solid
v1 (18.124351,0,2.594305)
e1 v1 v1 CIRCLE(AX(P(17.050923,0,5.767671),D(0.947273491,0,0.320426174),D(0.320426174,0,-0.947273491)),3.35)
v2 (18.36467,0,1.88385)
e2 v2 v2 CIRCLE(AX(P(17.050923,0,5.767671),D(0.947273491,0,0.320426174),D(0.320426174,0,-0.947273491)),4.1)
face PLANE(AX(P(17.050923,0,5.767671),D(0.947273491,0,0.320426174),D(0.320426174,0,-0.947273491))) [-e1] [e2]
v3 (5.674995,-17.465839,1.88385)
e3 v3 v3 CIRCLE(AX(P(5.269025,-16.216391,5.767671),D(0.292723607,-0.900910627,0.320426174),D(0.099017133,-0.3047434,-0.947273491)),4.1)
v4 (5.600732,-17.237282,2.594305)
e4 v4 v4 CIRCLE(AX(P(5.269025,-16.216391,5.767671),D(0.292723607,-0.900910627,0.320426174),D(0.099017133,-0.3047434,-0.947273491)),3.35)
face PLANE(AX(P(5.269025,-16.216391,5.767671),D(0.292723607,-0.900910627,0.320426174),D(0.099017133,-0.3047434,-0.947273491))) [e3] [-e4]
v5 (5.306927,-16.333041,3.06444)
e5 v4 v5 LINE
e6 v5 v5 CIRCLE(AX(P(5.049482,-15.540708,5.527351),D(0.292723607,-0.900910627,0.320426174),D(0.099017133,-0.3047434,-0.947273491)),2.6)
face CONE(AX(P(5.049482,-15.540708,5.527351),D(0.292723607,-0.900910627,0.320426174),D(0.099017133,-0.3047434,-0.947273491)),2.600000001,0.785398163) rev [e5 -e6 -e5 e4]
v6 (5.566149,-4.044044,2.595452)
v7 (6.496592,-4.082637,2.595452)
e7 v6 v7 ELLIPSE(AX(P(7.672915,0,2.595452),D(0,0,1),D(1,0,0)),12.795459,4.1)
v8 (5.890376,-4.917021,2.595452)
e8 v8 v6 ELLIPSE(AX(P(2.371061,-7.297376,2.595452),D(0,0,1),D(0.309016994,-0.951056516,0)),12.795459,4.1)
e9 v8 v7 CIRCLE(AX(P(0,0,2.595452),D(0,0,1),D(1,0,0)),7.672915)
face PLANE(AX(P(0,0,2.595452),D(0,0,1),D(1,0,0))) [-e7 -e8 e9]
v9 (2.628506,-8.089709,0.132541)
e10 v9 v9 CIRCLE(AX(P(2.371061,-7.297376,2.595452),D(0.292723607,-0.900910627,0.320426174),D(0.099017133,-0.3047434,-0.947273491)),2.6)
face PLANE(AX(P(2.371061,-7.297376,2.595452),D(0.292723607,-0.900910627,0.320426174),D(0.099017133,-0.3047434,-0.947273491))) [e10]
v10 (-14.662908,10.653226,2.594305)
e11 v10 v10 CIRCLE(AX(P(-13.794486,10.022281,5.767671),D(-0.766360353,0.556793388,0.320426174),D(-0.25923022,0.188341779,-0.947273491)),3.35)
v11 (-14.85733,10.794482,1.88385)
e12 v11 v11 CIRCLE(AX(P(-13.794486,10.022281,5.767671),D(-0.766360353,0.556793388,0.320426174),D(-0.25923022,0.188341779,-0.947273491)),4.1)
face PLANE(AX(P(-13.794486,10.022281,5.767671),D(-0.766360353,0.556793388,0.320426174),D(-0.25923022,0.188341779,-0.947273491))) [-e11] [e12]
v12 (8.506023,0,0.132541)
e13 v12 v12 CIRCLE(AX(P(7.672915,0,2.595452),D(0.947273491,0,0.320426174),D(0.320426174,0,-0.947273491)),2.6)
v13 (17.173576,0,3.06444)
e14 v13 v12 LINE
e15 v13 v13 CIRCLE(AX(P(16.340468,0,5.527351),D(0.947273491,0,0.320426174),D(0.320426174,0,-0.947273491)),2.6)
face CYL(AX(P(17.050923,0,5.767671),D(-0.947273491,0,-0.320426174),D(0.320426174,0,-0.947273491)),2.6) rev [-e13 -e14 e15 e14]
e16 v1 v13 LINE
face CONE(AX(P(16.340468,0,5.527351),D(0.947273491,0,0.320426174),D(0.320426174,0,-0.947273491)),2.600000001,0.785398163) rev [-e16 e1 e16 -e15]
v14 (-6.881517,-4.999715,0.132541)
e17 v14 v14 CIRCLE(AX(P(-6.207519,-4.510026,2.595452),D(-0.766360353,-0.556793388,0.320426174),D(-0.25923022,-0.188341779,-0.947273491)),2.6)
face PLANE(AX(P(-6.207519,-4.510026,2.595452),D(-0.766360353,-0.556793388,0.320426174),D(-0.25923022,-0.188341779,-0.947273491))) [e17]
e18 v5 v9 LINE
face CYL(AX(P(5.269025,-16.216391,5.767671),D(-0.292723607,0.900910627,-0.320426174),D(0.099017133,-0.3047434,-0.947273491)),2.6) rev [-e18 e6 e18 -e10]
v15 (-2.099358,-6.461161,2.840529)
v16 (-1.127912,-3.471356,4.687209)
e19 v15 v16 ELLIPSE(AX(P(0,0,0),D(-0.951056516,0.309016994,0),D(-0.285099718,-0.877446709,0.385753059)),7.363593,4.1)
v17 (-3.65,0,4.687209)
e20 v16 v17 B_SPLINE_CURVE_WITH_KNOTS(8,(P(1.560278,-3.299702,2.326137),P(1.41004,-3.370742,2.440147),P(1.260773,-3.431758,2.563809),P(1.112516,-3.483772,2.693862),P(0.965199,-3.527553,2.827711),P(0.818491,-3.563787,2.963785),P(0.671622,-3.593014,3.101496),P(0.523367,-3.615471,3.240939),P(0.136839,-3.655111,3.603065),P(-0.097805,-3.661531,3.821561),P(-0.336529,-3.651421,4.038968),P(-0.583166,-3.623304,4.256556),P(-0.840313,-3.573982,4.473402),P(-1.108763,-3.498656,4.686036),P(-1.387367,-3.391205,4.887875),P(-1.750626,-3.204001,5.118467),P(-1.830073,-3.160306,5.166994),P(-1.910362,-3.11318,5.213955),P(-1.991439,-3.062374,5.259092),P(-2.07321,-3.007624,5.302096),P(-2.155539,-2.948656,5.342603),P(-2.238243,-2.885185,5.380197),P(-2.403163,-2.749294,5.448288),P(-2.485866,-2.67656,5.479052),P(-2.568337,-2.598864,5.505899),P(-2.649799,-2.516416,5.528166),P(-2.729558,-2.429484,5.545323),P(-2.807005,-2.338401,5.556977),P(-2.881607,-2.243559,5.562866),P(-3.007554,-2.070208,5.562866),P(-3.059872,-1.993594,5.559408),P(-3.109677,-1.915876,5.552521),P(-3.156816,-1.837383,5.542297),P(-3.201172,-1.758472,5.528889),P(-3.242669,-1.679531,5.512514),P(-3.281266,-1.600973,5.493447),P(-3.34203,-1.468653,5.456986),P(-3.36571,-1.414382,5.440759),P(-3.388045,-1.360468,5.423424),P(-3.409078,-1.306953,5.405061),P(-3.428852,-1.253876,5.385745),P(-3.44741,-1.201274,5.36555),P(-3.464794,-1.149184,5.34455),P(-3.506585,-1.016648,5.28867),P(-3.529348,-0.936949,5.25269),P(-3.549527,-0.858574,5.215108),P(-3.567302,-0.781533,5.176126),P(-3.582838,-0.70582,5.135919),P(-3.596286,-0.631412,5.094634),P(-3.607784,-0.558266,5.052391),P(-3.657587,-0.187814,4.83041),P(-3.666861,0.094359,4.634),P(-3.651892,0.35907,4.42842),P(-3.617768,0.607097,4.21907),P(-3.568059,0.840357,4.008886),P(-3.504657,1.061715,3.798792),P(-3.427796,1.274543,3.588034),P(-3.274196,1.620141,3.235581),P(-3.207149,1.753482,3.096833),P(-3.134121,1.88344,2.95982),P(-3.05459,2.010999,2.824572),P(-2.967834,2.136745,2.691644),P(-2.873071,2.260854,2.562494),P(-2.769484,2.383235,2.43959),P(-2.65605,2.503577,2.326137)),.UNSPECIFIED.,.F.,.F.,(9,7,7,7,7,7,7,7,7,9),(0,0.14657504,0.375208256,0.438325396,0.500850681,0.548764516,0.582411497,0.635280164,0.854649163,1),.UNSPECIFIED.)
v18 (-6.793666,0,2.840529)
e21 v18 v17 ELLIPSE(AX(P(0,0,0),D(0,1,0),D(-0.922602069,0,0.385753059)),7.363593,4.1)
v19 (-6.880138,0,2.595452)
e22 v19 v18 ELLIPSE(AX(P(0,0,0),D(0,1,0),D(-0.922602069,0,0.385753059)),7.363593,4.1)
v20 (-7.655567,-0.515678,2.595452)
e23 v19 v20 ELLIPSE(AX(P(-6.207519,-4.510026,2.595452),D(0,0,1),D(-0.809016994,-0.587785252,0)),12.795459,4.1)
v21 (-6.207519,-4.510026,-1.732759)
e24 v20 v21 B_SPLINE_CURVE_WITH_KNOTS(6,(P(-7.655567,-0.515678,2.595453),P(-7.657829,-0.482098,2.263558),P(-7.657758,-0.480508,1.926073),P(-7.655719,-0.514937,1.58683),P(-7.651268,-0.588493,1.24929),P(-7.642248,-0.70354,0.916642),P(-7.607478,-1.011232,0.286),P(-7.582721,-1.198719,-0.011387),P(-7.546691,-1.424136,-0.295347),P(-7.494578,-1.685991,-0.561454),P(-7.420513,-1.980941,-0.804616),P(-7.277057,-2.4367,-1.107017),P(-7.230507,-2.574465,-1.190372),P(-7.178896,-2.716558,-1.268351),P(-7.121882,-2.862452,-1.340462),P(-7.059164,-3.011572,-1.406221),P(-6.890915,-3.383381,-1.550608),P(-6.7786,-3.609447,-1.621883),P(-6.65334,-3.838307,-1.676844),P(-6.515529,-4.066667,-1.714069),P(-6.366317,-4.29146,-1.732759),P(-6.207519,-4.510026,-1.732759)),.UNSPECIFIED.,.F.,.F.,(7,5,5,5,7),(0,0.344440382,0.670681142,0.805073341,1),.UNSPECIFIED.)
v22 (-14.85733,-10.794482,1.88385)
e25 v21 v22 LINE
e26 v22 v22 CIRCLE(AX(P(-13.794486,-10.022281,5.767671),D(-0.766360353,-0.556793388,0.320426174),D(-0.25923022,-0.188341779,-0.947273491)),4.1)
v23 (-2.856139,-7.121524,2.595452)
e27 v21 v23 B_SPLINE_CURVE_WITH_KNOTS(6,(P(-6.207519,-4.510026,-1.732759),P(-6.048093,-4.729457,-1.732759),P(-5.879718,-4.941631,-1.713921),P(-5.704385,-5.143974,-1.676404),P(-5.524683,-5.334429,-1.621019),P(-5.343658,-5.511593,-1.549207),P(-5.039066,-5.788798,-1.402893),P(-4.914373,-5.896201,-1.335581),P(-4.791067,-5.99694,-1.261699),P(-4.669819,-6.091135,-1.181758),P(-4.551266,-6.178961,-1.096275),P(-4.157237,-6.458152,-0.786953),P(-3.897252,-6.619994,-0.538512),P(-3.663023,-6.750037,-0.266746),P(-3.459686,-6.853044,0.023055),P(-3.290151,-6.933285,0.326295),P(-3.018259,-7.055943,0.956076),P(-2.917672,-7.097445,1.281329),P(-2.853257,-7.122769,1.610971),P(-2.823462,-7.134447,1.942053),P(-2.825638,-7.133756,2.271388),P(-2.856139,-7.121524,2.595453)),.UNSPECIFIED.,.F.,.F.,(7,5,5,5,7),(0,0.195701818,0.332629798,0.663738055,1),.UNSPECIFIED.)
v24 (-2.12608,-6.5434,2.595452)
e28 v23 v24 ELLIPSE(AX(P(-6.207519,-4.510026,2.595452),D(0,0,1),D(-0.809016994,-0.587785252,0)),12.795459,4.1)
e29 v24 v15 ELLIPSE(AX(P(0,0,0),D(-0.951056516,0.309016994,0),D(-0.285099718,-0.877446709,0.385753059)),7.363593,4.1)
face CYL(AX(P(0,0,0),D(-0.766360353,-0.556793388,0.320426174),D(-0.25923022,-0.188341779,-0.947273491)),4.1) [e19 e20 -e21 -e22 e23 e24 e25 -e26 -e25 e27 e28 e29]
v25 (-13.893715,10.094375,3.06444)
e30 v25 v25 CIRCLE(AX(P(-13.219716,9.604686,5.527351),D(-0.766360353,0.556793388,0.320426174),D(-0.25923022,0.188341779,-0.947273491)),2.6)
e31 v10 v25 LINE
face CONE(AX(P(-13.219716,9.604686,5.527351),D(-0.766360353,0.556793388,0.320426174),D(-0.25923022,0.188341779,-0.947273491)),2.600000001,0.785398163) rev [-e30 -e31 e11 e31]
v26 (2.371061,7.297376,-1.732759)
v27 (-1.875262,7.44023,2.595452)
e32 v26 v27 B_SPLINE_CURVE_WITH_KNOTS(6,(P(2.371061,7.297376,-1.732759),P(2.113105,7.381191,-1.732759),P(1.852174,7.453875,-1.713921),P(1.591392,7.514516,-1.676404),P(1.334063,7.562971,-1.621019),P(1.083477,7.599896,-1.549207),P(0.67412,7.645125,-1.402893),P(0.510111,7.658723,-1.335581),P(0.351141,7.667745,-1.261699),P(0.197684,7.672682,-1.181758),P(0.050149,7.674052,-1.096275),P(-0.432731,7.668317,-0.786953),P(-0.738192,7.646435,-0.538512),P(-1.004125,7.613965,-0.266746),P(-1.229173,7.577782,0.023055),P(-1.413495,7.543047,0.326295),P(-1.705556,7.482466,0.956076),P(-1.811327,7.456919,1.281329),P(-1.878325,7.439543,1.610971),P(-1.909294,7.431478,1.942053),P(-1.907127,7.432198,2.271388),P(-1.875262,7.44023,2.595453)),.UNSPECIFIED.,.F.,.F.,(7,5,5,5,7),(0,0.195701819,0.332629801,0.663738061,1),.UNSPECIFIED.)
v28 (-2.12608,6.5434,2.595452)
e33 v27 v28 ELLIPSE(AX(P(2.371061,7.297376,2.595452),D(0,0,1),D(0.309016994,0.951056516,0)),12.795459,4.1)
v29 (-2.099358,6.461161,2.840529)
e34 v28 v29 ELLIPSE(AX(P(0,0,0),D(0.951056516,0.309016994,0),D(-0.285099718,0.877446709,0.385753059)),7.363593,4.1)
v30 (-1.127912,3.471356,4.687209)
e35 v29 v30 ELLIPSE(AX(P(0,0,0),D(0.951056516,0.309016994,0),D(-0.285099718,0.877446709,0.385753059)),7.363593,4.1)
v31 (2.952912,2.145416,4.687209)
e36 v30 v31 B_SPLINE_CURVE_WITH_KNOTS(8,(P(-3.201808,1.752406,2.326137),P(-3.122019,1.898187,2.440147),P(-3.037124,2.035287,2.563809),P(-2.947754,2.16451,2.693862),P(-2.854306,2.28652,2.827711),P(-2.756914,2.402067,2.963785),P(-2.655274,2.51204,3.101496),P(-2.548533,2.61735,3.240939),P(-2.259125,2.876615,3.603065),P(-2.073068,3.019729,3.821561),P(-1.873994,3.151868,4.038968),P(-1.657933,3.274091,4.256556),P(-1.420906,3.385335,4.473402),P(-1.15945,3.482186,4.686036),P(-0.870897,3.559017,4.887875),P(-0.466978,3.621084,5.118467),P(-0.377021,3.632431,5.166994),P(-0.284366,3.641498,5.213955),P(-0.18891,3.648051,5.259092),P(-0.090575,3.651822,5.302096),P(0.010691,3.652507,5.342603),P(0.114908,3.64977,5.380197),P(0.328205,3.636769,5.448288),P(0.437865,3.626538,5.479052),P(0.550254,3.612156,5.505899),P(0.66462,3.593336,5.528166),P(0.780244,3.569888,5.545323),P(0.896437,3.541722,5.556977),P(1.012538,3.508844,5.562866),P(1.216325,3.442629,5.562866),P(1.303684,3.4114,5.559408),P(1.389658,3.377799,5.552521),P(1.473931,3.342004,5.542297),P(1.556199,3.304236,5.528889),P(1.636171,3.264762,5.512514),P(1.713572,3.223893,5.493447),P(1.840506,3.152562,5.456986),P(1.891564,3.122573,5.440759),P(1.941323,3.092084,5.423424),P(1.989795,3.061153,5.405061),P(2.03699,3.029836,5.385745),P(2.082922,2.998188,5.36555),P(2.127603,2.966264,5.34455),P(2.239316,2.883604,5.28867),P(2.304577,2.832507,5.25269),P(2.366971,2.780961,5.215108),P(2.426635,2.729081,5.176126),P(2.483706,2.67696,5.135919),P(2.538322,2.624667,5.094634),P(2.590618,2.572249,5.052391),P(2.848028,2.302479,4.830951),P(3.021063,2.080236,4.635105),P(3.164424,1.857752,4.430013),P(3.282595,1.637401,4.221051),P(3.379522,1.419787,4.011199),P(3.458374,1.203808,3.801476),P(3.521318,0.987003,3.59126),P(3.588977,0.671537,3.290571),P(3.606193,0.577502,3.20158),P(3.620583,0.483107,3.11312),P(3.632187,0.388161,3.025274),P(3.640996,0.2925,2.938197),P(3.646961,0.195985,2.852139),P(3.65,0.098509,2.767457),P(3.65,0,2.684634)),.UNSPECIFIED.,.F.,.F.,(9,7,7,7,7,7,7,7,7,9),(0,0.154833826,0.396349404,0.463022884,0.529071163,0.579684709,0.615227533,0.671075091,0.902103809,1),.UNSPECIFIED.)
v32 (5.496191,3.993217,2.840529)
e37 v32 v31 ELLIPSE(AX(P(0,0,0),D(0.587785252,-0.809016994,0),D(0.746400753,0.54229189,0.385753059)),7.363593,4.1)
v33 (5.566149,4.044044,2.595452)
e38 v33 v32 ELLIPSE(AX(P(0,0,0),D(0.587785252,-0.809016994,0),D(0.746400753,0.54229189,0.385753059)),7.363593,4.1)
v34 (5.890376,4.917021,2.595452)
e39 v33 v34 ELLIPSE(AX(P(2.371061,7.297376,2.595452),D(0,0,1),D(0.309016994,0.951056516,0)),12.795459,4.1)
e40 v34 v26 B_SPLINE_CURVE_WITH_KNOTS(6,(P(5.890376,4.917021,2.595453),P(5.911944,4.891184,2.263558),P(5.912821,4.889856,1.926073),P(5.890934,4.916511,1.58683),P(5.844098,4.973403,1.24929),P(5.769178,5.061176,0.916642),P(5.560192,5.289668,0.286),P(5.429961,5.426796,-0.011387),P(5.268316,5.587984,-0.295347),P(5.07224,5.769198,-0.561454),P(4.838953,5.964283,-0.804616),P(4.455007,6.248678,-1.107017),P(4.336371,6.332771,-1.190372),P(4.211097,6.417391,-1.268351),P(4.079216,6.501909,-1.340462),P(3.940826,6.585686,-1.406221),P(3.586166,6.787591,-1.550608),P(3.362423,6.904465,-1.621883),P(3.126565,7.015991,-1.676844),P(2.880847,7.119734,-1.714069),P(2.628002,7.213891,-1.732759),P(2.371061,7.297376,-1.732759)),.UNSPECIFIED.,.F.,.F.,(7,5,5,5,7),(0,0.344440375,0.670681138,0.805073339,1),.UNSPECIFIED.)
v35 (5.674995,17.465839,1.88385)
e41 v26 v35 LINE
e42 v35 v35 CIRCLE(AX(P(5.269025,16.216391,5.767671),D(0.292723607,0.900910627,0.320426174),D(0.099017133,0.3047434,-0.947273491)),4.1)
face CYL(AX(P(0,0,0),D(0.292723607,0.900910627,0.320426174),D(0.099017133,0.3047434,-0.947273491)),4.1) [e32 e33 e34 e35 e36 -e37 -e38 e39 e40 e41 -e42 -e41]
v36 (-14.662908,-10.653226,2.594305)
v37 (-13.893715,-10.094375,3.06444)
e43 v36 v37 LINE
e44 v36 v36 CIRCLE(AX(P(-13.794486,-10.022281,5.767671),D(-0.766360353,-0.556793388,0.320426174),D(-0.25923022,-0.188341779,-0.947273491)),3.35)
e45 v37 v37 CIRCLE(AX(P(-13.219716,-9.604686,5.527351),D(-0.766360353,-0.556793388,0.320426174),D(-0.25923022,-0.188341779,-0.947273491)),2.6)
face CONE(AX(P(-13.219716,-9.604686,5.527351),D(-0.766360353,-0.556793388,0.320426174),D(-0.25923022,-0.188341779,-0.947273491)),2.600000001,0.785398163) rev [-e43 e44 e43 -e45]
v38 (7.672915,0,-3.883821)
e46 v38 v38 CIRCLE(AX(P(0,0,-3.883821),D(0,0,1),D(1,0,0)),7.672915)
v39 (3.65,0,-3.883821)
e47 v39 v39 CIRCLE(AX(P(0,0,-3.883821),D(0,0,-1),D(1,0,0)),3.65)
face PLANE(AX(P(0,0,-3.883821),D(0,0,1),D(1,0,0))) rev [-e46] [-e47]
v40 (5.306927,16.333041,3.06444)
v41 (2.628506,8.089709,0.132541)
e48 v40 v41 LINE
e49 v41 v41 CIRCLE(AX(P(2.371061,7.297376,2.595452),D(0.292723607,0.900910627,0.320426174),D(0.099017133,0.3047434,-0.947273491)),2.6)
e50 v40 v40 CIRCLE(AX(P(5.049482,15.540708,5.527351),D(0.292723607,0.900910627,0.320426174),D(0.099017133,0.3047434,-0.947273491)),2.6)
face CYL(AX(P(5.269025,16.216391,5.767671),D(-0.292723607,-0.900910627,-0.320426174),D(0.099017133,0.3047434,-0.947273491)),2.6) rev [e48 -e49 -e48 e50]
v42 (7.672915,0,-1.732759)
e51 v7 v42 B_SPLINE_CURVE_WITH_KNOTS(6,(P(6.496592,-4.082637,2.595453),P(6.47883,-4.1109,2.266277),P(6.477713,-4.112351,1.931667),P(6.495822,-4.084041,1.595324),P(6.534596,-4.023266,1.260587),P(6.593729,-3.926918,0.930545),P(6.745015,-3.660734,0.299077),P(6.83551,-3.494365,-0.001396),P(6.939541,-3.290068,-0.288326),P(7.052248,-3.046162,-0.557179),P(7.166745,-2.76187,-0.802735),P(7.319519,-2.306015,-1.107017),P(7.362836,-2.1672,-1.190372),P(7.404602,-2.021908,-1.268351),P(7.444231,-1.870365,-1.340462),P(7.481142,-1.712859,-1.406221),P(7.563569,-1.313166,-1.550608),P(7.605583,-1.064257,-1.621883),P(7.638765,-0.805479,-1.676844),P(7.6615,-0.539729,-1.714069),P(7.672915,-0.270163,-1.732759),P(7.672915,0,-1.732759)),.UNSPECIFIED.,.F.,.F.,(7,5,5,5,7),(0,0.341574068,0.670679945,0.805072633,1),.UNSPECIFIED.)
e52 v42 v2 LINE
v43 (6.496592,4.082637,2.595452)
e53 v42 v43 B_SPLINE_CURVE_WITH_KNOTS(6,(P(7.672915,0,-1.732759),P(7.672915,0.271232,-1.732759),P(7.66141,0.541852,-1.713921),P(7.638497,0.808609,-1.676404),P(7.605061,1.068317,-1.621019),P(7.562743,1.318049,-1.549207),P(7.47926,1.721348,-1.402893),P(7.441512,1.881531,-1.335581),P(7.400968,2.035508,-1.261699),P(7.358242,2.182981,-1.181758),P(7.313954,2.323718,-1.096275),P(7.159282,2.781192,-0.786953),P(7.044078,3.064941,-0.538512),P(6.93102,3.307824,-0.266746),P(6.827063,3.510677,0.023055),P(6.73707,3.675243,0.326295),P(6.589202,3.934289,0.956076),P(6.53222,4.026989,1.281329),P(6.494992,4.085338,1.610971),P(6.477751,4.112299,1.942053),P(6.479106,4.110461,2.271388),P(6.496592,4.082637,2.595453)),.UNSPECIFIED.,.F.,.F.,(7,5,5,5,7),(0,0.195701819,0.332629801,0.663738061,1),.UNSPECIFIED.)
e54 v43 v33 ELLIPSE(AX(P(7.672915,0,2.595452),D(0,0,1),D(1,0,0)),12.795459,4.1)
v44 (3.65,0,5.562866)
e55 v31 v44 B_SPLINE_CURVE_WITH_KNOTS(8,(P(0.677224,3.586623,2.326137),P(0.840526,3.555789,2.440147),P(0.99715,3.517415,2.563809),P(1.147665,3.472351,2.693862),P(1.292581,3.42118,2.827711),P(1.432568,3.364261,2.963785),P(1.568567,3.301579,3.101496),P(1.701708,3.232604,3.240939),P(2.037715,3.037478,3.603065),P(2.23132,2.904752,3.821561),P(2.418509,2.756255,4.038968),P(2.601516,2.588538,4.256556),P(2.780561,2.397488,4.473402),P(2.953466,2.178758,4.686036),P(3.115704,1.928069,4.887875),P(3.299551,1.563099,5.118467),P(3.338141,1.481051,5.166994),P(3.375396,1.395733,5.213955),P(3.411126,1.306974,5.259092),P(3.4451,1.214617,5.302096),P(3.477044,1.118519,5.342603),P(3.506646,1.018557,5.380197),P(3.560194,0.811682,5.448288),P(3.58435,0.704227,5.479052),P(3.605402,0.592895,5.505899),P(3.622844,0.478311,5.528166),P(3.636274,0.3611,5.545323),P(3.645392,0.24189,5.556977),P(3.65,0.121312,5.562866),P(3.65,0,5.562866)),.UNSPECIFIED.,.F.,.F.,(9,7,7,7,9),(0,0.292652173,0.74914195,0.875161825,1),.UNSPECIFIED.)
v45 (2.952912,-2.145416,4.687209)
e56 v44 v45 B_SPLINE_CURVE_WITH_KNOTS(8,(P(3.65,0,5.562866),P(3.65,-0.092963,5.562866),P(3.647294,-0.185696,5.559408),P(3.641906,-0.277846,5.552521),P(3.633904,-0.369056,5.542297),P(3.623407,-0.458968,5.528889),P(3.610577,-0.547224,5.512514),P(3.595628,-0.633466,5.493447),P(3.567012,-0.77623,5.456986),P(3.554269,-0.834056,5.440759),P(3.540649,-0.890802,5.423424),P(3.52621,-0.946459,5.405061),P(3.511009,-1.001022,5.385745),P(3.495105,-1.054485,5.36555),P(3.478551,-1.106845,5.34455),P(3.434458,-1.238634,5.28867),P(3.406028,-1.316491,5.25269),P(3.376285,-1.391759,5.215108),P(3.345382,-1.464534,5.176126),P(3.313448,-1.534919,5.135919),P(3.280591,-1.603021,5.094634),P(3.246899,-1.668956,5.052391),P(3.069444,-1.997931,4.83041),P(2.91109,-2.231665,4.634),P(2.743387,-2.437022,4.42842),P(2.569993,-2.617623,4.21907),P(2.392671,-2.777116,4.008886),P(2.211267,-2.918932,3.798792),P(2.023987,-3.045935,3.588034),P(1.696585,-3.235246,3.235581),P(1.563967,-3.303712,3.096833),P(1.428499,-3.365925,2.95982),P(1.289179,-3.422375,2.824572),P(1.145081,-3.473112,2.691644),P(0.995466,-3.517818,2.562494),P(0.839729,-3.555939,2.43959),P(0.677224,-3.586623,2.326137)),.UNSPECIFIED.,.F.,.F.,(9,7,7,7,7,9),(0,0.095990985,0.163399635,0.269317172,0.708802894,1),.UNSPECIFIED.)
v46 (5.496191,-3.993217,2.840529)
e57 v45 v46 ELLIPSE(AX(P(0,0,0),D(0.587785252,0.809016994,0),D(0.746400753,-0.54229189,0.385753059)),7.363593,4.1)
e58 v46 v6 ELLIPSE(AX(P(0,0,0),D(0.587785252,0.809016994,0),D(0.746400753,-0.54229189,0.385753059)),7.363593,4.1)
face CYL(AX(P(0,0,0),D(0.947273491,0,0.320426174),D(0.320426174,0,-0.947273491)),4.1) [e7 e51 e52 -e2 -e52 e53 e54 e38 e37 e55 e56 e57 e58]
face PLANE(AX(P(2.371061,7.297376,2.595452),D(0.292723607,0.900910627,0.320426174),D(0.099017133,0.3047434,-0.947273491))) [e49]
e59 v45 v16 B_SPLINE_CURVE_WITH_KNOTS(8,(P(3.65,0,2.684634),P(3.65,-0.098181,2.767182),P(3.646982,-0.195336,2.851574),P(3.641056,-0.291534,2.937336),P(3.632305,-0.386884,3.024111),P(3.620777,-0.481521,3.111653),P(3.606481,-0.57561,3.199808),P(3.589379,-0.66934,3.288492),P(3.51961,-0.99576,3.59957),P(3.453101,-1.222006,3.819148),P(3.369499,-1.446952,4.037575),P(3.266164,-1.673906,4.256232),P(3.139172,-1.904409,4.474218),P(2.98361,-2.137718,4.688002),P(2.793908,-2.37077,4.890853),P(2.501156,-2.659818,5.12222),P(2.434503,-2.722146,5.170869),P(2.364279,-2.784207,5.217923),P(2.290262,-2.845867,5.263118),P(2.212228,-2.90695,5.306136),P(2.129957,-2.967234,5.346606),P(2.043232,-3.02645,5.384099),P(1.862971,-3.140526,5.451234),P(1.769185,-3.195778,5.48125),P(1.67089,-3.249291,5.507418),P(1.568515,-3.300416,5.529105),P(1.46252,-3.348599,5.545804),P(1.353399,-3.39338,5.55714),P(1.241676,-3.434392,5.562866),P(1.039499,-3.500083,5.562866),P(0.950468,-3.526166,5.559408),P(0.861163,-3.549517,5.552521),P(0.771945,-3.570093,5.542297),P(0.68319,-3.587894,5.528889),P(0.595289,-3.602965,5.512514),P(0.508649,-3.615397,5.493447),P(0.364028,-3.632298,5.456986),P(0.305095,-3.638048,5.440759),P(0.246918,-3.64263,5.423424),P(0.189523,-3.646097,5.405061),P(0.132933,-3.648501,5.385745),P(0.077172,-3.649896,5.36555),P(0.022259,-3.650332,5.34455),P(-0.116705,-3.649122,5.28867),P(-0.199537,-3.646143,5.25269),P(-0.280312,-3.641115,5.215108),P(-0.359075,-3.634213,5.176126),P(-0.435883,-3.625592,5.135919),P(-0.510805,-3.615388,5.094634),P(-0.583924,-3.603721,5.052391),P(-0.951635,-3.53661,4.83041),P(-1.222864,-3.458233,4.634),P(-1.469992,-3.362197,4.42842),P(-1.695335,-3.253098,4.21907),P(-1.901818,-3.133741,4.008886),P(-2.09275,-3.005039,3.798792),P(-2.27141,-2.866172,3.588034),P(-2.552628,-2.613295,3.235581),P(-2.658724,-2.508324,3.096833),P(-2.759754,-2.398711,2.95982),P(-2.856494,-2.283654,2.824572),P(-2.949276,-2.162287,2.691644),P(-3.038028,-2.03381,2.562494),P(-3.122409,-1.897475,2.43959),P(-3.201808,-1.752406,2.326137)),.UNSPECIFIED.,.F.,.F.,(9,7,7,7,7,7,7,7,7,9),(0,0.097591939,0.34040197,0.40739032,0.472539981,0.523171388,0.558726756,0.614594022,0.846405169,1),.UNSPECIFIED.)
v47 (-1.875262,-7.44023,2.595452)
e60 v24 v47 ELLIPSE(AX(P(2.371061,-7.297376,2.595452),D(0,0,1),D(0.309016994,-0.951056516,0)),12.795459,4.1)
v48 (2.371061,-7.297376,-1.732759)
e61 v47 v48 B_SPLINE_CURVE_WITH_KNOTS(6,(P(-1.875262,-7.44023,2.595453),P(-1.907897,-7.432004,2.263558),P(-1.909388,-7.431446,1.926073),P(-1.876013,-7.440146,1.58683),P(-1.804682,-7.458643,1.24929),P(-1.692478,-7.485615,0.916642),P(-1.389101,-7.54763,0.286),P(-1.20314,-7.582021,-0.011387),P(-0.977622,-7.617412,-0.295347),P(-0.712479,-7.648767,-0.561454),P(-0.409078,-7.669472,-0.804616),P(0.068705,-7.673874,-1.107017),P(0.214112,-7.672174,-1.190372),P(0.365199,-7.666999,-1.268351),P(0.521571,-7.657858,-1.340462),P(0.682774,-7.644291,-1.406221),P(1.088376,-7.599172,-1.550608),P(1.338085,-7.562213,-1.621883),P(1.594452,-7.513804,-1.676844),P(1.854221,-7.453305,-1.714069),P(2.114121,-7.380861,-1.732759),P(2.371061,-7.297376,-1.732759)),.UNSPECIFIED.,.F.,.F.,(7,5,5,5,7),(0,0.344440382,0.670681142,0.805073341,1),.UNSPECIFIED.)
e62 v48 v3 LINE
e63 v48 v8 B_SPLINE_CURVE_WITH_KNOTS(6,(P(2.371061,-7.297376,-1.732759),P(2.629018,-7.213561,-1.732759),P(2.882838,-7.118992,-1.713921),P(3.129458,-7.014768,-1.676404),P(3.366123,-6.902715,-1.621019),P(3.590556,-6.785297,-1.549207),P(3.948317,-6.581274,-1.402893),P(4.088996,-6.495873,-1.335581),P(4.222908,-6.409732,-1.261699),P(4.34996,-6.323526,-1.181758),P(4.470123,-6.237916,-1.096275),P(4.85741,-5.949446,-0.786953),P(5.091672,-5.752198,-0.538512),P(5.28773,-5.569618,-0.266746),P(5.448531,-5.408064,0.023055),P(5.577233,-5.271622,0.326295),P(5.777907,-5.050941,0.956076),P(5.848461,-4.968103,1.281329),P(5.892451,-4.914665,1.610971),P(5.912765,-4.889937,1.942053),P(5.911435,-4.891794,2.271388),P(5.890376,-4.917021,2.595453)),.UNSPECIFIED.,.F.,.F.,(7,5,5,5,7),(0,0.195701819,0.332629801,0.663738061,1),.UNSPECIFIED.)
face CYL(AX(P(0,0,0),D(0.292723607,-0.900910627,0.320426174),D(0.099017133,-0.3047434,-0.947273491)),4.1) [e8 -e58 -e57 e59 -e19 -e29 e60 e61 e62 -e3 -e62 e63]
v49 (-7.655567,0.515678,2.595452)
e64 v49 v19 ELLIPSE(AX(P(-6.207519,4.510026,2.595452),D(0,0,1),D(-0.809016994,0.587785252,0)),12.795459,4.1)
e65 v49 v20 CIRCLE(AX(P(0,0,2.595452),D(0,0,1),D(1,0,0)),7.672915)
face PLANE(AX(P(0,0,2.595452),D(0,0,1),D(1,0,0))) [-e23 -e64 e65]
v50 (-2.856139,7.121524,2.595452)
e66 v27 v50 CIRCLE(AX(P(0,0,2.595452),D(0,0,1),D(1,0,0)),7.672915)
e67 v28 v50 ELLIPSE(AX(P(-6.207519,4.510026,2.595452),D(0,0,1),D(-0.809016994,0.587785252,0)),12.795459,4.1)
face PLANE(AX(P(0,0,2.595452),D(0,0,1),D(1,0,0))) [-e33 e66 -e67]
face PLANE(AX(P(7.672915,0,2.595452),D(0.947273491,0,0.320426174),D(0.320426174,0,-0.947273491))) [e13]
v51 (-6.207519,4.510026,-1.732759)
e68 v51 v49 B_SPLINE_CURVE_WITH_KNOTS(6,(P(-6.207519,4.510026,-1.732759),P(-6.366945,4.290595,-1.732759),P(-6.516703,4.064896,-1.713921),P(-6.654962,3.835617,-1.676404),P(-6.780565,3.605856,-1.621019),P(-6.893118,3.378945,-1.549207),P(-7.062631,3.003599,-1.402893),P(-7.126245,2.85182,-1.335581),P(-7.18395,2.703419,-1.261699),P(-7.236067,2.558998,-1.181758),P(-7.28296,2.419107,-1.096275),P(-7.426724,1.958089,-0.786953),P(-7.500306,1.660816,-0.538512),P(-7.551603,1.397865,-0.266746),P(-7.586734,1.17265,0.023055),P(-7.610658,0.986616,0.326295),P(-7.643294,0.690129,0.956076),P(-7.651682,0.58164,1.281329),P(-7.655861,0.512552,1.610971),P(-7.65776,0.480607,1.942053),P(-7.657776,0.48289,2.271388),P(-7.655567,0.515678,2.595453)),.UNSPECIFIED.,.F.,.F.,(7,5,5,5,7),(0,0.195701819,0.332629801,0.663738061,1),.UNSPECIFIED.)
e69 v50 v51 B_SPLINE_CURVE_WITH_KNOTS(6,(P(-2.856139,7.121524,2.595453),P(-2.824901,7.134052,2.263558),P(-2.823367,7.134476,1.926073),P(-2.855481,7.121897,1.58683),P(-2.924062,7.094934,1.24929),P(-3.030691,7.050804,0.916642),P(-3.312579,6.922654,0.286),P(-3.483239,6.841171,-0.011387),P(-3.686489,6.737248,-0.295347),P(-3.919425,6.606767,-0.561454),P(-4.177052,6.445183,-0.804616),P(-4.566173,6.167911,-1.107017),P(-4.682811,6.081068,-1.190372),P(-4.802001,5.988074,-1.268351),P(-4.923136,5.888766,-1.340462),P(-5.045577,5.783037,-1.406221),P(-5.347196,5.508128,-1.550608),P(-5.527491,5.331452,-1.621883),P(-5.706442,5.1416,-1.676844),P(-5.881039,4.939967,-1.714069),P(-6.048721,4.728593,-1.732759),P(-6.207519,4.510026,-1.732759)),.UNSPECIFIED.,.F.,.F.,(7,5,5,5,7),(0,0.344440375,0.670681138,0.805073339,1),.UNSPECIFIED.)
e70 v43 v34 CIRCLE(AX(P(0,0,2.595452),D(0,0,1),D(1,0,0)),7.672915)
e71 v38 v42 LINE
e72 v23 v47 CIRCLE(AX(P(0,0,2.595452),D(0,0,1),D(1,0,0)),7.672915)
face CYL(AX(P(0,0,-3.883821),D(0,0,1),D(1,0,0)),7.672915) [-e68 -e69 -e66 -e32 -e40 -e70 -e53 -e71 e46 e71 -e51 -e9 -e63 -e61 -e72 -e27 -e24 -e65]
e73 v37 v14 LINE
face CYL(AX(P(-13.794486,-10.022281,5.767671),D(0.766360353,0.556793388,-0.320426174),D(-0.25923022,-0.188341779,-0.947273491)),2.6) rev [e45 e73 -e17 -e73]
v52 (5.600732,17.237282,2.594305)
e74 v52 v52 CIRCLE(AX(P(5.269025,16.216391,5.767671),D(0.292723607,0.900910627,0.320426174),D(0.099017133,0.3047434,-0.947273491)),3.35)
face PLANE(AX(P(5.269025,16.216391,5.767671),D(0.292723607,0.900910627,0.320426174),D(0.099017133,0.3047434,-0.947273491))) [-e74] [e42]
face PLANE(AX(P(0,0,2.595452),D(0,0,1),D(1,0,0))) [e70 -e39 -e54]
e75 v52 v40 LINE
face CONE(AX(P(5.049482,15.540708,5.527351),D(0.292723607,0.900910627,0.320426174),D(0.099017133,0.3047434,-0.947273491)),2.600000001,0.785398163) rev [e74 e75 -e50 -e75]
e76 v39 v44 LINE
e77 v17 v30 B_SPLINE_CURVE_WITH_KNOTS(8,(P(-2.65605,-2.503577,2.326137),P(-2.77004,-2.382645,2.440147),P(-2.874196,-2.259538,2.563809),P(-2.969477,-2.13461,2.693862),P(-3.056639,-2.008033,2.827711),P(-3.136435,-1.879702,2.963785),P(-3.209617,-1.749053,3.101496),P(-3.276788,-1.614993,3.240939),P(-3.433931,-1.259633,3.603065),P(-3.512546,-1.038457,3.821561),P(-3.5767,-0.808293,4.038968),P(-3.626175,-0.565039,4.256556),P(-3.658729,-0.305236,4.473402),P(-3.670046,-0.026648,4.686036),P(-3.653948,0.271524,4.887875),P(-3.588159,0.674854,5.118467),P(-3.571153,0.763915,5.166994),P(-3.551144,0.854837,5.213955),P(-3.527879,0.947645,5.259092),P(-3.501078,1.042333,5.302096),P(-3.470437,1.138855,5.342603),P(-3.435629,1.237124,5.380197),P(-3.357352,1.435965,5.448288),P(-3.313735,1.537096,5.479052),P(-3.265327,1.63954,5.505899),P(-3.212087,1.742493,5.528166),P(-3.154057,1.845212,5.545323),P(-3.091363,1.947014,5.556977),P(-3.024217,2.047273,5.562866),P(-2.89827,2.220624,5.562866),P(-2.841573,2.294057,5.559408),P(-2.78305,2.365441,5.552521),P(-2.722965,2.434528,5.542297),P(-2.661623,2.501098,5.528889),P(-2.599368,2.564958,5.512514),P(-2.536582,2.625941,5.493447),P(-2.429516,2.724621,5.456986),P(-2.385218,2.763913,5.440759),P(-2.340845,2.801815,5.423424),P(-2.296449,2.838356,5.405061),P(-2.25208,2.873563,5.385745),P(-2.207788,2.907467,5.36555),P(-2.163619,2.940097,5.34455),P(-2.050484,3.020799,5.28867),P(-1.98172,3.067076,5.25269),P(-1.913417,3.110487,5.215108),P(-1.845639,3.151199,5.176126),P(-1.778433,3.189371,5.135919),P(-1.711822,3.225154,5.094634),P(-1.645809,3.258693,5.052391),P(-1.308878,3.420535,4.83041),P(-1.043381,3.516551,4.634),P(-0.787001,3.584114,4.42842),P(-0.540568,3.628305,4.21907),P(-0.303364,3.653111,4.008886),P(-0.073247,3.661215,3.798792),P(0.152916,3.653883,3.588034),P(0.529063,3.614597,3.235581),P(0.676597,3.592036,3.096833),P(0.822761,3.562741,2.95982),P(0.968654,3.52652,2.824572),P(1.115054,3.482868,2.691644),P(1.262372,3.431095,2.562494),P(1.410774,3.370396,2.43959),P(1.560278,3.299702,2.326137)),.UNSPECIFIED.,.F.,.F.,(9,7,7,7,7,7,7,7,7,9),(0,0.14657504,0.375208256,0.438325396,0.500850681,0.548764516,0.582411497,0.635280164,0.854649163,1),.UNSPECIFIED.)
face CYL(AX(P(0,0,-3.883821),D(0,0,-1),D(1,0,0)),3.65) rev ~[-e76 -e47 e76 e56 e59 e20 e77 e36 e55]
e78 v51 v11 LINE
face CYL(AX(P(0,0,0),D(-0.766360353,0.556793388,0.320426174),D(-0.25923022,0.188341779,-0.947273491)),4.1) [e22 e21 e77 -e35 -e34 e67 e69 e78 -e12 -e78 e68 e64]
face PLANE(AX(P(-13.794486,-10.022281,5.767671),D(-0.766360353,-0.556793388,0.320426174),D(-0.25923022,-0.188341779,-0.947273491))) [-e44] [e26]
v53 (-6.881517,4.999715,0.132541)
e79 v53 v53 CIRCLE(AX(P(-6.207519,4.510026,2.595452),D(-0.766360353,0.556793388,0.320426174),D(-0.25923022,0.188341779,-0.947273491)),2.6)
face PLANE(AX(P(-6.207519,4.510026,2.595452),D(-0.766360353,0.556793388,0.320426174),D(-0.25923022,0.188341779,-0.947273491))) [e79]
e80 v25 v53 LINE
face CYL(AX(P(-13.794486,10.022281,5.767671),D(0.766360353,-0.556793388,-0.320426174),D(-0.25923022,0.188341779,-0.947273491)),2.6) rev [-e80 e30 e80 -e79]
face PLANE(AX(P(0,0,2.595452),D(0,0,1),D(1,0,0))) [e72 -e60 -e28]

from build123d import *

# Parameters (mm, degrees)
F3_COUNT = 5
F5_R     = 3.65
F6_DEPTH = 13.536313851
F7_SIZE  = 0.75


with BuildPart() as f2:
    # F1 (on Front) → F2 (revolve)
    with BuildSketch(Plane.XZ):
        Polygon((8.5060233307, 0.1325409275), (7.6729152797, 2.595452005), (7.6729152797, -1.7327594752), (18.364670155, 1.8838498077), (17.8840308948, 3.3047600447), align=None)
        Polygon((7.6729152797, 2.595452005), (0, 0), (1.3137473112, -3.8838213144), (7.6729152797, -1.7327594752), align=None)
    revolve(axis=Axis((8.5254614219, 0, 2.8838355611), (0.9472734913, 0, 0.3204261735)))

    # F3: F2 ×5 about axis
    f3_axis = Axis((0, 0, 20.6734314561), (0, 0, 1))


with BuildPart() as f2_1:
    add(f2.part)
    for i in range(1, F3_COUNT):
        add(f2.part.rotate(f3_axis, i * 360 / F3_COUNT))

    # F1 (on Front) → F4 (revolve)
    with BuildSketch(Plane.XZ):
        Polygon((1.3137473112, -3.8838213144), (0, 0), (0, -3.8838213144), align=None)
        Polygon((7.6729152797, 2.595452005), (0, 0), (1.3137473112, -3.8838213144), (7.6729152797, -1.7327594752), align=None)
        Polygon((7.6729152797, -1.7327594752), (1.3137473112, -3.8838213144), (7.6729152797, -3.8838213144), align=None)
        Polygon((0, 2.595452005), (0, 0), (7.6729152797, 2.595452005), align=None)
    revolve(axis=Axis((0, 0, 20.6734314561), (0, 0, 1)))

    # F5 (on face) → F6 (cut, through all)
    with BuildSketch(Plane(origin=(0, 0, -3.8838213144), x_dir=(1, 0, 0), z_dir=(0, 0, -1))):
        Circle(F5_R)
    extrude(amount=-F6_DEPTH, mode=Mode.SUBTRACT)

    # F7
    f7_edges = [f2_1.edges().sort_by_distance(p)[0] for p in [
        (-13.120488, -9.532592, 8.230582),
        (5.01158, -15.424058, 8.230582),
        (16.217815, 0, 8.230582),
        (5.01158, 15.424058, 8.230582),
        (-13.120488, 9.532592, 8.230582),
    ]]
    chamfer(f7_edges, length=F7_SIZE)


solid = f2_1.part
